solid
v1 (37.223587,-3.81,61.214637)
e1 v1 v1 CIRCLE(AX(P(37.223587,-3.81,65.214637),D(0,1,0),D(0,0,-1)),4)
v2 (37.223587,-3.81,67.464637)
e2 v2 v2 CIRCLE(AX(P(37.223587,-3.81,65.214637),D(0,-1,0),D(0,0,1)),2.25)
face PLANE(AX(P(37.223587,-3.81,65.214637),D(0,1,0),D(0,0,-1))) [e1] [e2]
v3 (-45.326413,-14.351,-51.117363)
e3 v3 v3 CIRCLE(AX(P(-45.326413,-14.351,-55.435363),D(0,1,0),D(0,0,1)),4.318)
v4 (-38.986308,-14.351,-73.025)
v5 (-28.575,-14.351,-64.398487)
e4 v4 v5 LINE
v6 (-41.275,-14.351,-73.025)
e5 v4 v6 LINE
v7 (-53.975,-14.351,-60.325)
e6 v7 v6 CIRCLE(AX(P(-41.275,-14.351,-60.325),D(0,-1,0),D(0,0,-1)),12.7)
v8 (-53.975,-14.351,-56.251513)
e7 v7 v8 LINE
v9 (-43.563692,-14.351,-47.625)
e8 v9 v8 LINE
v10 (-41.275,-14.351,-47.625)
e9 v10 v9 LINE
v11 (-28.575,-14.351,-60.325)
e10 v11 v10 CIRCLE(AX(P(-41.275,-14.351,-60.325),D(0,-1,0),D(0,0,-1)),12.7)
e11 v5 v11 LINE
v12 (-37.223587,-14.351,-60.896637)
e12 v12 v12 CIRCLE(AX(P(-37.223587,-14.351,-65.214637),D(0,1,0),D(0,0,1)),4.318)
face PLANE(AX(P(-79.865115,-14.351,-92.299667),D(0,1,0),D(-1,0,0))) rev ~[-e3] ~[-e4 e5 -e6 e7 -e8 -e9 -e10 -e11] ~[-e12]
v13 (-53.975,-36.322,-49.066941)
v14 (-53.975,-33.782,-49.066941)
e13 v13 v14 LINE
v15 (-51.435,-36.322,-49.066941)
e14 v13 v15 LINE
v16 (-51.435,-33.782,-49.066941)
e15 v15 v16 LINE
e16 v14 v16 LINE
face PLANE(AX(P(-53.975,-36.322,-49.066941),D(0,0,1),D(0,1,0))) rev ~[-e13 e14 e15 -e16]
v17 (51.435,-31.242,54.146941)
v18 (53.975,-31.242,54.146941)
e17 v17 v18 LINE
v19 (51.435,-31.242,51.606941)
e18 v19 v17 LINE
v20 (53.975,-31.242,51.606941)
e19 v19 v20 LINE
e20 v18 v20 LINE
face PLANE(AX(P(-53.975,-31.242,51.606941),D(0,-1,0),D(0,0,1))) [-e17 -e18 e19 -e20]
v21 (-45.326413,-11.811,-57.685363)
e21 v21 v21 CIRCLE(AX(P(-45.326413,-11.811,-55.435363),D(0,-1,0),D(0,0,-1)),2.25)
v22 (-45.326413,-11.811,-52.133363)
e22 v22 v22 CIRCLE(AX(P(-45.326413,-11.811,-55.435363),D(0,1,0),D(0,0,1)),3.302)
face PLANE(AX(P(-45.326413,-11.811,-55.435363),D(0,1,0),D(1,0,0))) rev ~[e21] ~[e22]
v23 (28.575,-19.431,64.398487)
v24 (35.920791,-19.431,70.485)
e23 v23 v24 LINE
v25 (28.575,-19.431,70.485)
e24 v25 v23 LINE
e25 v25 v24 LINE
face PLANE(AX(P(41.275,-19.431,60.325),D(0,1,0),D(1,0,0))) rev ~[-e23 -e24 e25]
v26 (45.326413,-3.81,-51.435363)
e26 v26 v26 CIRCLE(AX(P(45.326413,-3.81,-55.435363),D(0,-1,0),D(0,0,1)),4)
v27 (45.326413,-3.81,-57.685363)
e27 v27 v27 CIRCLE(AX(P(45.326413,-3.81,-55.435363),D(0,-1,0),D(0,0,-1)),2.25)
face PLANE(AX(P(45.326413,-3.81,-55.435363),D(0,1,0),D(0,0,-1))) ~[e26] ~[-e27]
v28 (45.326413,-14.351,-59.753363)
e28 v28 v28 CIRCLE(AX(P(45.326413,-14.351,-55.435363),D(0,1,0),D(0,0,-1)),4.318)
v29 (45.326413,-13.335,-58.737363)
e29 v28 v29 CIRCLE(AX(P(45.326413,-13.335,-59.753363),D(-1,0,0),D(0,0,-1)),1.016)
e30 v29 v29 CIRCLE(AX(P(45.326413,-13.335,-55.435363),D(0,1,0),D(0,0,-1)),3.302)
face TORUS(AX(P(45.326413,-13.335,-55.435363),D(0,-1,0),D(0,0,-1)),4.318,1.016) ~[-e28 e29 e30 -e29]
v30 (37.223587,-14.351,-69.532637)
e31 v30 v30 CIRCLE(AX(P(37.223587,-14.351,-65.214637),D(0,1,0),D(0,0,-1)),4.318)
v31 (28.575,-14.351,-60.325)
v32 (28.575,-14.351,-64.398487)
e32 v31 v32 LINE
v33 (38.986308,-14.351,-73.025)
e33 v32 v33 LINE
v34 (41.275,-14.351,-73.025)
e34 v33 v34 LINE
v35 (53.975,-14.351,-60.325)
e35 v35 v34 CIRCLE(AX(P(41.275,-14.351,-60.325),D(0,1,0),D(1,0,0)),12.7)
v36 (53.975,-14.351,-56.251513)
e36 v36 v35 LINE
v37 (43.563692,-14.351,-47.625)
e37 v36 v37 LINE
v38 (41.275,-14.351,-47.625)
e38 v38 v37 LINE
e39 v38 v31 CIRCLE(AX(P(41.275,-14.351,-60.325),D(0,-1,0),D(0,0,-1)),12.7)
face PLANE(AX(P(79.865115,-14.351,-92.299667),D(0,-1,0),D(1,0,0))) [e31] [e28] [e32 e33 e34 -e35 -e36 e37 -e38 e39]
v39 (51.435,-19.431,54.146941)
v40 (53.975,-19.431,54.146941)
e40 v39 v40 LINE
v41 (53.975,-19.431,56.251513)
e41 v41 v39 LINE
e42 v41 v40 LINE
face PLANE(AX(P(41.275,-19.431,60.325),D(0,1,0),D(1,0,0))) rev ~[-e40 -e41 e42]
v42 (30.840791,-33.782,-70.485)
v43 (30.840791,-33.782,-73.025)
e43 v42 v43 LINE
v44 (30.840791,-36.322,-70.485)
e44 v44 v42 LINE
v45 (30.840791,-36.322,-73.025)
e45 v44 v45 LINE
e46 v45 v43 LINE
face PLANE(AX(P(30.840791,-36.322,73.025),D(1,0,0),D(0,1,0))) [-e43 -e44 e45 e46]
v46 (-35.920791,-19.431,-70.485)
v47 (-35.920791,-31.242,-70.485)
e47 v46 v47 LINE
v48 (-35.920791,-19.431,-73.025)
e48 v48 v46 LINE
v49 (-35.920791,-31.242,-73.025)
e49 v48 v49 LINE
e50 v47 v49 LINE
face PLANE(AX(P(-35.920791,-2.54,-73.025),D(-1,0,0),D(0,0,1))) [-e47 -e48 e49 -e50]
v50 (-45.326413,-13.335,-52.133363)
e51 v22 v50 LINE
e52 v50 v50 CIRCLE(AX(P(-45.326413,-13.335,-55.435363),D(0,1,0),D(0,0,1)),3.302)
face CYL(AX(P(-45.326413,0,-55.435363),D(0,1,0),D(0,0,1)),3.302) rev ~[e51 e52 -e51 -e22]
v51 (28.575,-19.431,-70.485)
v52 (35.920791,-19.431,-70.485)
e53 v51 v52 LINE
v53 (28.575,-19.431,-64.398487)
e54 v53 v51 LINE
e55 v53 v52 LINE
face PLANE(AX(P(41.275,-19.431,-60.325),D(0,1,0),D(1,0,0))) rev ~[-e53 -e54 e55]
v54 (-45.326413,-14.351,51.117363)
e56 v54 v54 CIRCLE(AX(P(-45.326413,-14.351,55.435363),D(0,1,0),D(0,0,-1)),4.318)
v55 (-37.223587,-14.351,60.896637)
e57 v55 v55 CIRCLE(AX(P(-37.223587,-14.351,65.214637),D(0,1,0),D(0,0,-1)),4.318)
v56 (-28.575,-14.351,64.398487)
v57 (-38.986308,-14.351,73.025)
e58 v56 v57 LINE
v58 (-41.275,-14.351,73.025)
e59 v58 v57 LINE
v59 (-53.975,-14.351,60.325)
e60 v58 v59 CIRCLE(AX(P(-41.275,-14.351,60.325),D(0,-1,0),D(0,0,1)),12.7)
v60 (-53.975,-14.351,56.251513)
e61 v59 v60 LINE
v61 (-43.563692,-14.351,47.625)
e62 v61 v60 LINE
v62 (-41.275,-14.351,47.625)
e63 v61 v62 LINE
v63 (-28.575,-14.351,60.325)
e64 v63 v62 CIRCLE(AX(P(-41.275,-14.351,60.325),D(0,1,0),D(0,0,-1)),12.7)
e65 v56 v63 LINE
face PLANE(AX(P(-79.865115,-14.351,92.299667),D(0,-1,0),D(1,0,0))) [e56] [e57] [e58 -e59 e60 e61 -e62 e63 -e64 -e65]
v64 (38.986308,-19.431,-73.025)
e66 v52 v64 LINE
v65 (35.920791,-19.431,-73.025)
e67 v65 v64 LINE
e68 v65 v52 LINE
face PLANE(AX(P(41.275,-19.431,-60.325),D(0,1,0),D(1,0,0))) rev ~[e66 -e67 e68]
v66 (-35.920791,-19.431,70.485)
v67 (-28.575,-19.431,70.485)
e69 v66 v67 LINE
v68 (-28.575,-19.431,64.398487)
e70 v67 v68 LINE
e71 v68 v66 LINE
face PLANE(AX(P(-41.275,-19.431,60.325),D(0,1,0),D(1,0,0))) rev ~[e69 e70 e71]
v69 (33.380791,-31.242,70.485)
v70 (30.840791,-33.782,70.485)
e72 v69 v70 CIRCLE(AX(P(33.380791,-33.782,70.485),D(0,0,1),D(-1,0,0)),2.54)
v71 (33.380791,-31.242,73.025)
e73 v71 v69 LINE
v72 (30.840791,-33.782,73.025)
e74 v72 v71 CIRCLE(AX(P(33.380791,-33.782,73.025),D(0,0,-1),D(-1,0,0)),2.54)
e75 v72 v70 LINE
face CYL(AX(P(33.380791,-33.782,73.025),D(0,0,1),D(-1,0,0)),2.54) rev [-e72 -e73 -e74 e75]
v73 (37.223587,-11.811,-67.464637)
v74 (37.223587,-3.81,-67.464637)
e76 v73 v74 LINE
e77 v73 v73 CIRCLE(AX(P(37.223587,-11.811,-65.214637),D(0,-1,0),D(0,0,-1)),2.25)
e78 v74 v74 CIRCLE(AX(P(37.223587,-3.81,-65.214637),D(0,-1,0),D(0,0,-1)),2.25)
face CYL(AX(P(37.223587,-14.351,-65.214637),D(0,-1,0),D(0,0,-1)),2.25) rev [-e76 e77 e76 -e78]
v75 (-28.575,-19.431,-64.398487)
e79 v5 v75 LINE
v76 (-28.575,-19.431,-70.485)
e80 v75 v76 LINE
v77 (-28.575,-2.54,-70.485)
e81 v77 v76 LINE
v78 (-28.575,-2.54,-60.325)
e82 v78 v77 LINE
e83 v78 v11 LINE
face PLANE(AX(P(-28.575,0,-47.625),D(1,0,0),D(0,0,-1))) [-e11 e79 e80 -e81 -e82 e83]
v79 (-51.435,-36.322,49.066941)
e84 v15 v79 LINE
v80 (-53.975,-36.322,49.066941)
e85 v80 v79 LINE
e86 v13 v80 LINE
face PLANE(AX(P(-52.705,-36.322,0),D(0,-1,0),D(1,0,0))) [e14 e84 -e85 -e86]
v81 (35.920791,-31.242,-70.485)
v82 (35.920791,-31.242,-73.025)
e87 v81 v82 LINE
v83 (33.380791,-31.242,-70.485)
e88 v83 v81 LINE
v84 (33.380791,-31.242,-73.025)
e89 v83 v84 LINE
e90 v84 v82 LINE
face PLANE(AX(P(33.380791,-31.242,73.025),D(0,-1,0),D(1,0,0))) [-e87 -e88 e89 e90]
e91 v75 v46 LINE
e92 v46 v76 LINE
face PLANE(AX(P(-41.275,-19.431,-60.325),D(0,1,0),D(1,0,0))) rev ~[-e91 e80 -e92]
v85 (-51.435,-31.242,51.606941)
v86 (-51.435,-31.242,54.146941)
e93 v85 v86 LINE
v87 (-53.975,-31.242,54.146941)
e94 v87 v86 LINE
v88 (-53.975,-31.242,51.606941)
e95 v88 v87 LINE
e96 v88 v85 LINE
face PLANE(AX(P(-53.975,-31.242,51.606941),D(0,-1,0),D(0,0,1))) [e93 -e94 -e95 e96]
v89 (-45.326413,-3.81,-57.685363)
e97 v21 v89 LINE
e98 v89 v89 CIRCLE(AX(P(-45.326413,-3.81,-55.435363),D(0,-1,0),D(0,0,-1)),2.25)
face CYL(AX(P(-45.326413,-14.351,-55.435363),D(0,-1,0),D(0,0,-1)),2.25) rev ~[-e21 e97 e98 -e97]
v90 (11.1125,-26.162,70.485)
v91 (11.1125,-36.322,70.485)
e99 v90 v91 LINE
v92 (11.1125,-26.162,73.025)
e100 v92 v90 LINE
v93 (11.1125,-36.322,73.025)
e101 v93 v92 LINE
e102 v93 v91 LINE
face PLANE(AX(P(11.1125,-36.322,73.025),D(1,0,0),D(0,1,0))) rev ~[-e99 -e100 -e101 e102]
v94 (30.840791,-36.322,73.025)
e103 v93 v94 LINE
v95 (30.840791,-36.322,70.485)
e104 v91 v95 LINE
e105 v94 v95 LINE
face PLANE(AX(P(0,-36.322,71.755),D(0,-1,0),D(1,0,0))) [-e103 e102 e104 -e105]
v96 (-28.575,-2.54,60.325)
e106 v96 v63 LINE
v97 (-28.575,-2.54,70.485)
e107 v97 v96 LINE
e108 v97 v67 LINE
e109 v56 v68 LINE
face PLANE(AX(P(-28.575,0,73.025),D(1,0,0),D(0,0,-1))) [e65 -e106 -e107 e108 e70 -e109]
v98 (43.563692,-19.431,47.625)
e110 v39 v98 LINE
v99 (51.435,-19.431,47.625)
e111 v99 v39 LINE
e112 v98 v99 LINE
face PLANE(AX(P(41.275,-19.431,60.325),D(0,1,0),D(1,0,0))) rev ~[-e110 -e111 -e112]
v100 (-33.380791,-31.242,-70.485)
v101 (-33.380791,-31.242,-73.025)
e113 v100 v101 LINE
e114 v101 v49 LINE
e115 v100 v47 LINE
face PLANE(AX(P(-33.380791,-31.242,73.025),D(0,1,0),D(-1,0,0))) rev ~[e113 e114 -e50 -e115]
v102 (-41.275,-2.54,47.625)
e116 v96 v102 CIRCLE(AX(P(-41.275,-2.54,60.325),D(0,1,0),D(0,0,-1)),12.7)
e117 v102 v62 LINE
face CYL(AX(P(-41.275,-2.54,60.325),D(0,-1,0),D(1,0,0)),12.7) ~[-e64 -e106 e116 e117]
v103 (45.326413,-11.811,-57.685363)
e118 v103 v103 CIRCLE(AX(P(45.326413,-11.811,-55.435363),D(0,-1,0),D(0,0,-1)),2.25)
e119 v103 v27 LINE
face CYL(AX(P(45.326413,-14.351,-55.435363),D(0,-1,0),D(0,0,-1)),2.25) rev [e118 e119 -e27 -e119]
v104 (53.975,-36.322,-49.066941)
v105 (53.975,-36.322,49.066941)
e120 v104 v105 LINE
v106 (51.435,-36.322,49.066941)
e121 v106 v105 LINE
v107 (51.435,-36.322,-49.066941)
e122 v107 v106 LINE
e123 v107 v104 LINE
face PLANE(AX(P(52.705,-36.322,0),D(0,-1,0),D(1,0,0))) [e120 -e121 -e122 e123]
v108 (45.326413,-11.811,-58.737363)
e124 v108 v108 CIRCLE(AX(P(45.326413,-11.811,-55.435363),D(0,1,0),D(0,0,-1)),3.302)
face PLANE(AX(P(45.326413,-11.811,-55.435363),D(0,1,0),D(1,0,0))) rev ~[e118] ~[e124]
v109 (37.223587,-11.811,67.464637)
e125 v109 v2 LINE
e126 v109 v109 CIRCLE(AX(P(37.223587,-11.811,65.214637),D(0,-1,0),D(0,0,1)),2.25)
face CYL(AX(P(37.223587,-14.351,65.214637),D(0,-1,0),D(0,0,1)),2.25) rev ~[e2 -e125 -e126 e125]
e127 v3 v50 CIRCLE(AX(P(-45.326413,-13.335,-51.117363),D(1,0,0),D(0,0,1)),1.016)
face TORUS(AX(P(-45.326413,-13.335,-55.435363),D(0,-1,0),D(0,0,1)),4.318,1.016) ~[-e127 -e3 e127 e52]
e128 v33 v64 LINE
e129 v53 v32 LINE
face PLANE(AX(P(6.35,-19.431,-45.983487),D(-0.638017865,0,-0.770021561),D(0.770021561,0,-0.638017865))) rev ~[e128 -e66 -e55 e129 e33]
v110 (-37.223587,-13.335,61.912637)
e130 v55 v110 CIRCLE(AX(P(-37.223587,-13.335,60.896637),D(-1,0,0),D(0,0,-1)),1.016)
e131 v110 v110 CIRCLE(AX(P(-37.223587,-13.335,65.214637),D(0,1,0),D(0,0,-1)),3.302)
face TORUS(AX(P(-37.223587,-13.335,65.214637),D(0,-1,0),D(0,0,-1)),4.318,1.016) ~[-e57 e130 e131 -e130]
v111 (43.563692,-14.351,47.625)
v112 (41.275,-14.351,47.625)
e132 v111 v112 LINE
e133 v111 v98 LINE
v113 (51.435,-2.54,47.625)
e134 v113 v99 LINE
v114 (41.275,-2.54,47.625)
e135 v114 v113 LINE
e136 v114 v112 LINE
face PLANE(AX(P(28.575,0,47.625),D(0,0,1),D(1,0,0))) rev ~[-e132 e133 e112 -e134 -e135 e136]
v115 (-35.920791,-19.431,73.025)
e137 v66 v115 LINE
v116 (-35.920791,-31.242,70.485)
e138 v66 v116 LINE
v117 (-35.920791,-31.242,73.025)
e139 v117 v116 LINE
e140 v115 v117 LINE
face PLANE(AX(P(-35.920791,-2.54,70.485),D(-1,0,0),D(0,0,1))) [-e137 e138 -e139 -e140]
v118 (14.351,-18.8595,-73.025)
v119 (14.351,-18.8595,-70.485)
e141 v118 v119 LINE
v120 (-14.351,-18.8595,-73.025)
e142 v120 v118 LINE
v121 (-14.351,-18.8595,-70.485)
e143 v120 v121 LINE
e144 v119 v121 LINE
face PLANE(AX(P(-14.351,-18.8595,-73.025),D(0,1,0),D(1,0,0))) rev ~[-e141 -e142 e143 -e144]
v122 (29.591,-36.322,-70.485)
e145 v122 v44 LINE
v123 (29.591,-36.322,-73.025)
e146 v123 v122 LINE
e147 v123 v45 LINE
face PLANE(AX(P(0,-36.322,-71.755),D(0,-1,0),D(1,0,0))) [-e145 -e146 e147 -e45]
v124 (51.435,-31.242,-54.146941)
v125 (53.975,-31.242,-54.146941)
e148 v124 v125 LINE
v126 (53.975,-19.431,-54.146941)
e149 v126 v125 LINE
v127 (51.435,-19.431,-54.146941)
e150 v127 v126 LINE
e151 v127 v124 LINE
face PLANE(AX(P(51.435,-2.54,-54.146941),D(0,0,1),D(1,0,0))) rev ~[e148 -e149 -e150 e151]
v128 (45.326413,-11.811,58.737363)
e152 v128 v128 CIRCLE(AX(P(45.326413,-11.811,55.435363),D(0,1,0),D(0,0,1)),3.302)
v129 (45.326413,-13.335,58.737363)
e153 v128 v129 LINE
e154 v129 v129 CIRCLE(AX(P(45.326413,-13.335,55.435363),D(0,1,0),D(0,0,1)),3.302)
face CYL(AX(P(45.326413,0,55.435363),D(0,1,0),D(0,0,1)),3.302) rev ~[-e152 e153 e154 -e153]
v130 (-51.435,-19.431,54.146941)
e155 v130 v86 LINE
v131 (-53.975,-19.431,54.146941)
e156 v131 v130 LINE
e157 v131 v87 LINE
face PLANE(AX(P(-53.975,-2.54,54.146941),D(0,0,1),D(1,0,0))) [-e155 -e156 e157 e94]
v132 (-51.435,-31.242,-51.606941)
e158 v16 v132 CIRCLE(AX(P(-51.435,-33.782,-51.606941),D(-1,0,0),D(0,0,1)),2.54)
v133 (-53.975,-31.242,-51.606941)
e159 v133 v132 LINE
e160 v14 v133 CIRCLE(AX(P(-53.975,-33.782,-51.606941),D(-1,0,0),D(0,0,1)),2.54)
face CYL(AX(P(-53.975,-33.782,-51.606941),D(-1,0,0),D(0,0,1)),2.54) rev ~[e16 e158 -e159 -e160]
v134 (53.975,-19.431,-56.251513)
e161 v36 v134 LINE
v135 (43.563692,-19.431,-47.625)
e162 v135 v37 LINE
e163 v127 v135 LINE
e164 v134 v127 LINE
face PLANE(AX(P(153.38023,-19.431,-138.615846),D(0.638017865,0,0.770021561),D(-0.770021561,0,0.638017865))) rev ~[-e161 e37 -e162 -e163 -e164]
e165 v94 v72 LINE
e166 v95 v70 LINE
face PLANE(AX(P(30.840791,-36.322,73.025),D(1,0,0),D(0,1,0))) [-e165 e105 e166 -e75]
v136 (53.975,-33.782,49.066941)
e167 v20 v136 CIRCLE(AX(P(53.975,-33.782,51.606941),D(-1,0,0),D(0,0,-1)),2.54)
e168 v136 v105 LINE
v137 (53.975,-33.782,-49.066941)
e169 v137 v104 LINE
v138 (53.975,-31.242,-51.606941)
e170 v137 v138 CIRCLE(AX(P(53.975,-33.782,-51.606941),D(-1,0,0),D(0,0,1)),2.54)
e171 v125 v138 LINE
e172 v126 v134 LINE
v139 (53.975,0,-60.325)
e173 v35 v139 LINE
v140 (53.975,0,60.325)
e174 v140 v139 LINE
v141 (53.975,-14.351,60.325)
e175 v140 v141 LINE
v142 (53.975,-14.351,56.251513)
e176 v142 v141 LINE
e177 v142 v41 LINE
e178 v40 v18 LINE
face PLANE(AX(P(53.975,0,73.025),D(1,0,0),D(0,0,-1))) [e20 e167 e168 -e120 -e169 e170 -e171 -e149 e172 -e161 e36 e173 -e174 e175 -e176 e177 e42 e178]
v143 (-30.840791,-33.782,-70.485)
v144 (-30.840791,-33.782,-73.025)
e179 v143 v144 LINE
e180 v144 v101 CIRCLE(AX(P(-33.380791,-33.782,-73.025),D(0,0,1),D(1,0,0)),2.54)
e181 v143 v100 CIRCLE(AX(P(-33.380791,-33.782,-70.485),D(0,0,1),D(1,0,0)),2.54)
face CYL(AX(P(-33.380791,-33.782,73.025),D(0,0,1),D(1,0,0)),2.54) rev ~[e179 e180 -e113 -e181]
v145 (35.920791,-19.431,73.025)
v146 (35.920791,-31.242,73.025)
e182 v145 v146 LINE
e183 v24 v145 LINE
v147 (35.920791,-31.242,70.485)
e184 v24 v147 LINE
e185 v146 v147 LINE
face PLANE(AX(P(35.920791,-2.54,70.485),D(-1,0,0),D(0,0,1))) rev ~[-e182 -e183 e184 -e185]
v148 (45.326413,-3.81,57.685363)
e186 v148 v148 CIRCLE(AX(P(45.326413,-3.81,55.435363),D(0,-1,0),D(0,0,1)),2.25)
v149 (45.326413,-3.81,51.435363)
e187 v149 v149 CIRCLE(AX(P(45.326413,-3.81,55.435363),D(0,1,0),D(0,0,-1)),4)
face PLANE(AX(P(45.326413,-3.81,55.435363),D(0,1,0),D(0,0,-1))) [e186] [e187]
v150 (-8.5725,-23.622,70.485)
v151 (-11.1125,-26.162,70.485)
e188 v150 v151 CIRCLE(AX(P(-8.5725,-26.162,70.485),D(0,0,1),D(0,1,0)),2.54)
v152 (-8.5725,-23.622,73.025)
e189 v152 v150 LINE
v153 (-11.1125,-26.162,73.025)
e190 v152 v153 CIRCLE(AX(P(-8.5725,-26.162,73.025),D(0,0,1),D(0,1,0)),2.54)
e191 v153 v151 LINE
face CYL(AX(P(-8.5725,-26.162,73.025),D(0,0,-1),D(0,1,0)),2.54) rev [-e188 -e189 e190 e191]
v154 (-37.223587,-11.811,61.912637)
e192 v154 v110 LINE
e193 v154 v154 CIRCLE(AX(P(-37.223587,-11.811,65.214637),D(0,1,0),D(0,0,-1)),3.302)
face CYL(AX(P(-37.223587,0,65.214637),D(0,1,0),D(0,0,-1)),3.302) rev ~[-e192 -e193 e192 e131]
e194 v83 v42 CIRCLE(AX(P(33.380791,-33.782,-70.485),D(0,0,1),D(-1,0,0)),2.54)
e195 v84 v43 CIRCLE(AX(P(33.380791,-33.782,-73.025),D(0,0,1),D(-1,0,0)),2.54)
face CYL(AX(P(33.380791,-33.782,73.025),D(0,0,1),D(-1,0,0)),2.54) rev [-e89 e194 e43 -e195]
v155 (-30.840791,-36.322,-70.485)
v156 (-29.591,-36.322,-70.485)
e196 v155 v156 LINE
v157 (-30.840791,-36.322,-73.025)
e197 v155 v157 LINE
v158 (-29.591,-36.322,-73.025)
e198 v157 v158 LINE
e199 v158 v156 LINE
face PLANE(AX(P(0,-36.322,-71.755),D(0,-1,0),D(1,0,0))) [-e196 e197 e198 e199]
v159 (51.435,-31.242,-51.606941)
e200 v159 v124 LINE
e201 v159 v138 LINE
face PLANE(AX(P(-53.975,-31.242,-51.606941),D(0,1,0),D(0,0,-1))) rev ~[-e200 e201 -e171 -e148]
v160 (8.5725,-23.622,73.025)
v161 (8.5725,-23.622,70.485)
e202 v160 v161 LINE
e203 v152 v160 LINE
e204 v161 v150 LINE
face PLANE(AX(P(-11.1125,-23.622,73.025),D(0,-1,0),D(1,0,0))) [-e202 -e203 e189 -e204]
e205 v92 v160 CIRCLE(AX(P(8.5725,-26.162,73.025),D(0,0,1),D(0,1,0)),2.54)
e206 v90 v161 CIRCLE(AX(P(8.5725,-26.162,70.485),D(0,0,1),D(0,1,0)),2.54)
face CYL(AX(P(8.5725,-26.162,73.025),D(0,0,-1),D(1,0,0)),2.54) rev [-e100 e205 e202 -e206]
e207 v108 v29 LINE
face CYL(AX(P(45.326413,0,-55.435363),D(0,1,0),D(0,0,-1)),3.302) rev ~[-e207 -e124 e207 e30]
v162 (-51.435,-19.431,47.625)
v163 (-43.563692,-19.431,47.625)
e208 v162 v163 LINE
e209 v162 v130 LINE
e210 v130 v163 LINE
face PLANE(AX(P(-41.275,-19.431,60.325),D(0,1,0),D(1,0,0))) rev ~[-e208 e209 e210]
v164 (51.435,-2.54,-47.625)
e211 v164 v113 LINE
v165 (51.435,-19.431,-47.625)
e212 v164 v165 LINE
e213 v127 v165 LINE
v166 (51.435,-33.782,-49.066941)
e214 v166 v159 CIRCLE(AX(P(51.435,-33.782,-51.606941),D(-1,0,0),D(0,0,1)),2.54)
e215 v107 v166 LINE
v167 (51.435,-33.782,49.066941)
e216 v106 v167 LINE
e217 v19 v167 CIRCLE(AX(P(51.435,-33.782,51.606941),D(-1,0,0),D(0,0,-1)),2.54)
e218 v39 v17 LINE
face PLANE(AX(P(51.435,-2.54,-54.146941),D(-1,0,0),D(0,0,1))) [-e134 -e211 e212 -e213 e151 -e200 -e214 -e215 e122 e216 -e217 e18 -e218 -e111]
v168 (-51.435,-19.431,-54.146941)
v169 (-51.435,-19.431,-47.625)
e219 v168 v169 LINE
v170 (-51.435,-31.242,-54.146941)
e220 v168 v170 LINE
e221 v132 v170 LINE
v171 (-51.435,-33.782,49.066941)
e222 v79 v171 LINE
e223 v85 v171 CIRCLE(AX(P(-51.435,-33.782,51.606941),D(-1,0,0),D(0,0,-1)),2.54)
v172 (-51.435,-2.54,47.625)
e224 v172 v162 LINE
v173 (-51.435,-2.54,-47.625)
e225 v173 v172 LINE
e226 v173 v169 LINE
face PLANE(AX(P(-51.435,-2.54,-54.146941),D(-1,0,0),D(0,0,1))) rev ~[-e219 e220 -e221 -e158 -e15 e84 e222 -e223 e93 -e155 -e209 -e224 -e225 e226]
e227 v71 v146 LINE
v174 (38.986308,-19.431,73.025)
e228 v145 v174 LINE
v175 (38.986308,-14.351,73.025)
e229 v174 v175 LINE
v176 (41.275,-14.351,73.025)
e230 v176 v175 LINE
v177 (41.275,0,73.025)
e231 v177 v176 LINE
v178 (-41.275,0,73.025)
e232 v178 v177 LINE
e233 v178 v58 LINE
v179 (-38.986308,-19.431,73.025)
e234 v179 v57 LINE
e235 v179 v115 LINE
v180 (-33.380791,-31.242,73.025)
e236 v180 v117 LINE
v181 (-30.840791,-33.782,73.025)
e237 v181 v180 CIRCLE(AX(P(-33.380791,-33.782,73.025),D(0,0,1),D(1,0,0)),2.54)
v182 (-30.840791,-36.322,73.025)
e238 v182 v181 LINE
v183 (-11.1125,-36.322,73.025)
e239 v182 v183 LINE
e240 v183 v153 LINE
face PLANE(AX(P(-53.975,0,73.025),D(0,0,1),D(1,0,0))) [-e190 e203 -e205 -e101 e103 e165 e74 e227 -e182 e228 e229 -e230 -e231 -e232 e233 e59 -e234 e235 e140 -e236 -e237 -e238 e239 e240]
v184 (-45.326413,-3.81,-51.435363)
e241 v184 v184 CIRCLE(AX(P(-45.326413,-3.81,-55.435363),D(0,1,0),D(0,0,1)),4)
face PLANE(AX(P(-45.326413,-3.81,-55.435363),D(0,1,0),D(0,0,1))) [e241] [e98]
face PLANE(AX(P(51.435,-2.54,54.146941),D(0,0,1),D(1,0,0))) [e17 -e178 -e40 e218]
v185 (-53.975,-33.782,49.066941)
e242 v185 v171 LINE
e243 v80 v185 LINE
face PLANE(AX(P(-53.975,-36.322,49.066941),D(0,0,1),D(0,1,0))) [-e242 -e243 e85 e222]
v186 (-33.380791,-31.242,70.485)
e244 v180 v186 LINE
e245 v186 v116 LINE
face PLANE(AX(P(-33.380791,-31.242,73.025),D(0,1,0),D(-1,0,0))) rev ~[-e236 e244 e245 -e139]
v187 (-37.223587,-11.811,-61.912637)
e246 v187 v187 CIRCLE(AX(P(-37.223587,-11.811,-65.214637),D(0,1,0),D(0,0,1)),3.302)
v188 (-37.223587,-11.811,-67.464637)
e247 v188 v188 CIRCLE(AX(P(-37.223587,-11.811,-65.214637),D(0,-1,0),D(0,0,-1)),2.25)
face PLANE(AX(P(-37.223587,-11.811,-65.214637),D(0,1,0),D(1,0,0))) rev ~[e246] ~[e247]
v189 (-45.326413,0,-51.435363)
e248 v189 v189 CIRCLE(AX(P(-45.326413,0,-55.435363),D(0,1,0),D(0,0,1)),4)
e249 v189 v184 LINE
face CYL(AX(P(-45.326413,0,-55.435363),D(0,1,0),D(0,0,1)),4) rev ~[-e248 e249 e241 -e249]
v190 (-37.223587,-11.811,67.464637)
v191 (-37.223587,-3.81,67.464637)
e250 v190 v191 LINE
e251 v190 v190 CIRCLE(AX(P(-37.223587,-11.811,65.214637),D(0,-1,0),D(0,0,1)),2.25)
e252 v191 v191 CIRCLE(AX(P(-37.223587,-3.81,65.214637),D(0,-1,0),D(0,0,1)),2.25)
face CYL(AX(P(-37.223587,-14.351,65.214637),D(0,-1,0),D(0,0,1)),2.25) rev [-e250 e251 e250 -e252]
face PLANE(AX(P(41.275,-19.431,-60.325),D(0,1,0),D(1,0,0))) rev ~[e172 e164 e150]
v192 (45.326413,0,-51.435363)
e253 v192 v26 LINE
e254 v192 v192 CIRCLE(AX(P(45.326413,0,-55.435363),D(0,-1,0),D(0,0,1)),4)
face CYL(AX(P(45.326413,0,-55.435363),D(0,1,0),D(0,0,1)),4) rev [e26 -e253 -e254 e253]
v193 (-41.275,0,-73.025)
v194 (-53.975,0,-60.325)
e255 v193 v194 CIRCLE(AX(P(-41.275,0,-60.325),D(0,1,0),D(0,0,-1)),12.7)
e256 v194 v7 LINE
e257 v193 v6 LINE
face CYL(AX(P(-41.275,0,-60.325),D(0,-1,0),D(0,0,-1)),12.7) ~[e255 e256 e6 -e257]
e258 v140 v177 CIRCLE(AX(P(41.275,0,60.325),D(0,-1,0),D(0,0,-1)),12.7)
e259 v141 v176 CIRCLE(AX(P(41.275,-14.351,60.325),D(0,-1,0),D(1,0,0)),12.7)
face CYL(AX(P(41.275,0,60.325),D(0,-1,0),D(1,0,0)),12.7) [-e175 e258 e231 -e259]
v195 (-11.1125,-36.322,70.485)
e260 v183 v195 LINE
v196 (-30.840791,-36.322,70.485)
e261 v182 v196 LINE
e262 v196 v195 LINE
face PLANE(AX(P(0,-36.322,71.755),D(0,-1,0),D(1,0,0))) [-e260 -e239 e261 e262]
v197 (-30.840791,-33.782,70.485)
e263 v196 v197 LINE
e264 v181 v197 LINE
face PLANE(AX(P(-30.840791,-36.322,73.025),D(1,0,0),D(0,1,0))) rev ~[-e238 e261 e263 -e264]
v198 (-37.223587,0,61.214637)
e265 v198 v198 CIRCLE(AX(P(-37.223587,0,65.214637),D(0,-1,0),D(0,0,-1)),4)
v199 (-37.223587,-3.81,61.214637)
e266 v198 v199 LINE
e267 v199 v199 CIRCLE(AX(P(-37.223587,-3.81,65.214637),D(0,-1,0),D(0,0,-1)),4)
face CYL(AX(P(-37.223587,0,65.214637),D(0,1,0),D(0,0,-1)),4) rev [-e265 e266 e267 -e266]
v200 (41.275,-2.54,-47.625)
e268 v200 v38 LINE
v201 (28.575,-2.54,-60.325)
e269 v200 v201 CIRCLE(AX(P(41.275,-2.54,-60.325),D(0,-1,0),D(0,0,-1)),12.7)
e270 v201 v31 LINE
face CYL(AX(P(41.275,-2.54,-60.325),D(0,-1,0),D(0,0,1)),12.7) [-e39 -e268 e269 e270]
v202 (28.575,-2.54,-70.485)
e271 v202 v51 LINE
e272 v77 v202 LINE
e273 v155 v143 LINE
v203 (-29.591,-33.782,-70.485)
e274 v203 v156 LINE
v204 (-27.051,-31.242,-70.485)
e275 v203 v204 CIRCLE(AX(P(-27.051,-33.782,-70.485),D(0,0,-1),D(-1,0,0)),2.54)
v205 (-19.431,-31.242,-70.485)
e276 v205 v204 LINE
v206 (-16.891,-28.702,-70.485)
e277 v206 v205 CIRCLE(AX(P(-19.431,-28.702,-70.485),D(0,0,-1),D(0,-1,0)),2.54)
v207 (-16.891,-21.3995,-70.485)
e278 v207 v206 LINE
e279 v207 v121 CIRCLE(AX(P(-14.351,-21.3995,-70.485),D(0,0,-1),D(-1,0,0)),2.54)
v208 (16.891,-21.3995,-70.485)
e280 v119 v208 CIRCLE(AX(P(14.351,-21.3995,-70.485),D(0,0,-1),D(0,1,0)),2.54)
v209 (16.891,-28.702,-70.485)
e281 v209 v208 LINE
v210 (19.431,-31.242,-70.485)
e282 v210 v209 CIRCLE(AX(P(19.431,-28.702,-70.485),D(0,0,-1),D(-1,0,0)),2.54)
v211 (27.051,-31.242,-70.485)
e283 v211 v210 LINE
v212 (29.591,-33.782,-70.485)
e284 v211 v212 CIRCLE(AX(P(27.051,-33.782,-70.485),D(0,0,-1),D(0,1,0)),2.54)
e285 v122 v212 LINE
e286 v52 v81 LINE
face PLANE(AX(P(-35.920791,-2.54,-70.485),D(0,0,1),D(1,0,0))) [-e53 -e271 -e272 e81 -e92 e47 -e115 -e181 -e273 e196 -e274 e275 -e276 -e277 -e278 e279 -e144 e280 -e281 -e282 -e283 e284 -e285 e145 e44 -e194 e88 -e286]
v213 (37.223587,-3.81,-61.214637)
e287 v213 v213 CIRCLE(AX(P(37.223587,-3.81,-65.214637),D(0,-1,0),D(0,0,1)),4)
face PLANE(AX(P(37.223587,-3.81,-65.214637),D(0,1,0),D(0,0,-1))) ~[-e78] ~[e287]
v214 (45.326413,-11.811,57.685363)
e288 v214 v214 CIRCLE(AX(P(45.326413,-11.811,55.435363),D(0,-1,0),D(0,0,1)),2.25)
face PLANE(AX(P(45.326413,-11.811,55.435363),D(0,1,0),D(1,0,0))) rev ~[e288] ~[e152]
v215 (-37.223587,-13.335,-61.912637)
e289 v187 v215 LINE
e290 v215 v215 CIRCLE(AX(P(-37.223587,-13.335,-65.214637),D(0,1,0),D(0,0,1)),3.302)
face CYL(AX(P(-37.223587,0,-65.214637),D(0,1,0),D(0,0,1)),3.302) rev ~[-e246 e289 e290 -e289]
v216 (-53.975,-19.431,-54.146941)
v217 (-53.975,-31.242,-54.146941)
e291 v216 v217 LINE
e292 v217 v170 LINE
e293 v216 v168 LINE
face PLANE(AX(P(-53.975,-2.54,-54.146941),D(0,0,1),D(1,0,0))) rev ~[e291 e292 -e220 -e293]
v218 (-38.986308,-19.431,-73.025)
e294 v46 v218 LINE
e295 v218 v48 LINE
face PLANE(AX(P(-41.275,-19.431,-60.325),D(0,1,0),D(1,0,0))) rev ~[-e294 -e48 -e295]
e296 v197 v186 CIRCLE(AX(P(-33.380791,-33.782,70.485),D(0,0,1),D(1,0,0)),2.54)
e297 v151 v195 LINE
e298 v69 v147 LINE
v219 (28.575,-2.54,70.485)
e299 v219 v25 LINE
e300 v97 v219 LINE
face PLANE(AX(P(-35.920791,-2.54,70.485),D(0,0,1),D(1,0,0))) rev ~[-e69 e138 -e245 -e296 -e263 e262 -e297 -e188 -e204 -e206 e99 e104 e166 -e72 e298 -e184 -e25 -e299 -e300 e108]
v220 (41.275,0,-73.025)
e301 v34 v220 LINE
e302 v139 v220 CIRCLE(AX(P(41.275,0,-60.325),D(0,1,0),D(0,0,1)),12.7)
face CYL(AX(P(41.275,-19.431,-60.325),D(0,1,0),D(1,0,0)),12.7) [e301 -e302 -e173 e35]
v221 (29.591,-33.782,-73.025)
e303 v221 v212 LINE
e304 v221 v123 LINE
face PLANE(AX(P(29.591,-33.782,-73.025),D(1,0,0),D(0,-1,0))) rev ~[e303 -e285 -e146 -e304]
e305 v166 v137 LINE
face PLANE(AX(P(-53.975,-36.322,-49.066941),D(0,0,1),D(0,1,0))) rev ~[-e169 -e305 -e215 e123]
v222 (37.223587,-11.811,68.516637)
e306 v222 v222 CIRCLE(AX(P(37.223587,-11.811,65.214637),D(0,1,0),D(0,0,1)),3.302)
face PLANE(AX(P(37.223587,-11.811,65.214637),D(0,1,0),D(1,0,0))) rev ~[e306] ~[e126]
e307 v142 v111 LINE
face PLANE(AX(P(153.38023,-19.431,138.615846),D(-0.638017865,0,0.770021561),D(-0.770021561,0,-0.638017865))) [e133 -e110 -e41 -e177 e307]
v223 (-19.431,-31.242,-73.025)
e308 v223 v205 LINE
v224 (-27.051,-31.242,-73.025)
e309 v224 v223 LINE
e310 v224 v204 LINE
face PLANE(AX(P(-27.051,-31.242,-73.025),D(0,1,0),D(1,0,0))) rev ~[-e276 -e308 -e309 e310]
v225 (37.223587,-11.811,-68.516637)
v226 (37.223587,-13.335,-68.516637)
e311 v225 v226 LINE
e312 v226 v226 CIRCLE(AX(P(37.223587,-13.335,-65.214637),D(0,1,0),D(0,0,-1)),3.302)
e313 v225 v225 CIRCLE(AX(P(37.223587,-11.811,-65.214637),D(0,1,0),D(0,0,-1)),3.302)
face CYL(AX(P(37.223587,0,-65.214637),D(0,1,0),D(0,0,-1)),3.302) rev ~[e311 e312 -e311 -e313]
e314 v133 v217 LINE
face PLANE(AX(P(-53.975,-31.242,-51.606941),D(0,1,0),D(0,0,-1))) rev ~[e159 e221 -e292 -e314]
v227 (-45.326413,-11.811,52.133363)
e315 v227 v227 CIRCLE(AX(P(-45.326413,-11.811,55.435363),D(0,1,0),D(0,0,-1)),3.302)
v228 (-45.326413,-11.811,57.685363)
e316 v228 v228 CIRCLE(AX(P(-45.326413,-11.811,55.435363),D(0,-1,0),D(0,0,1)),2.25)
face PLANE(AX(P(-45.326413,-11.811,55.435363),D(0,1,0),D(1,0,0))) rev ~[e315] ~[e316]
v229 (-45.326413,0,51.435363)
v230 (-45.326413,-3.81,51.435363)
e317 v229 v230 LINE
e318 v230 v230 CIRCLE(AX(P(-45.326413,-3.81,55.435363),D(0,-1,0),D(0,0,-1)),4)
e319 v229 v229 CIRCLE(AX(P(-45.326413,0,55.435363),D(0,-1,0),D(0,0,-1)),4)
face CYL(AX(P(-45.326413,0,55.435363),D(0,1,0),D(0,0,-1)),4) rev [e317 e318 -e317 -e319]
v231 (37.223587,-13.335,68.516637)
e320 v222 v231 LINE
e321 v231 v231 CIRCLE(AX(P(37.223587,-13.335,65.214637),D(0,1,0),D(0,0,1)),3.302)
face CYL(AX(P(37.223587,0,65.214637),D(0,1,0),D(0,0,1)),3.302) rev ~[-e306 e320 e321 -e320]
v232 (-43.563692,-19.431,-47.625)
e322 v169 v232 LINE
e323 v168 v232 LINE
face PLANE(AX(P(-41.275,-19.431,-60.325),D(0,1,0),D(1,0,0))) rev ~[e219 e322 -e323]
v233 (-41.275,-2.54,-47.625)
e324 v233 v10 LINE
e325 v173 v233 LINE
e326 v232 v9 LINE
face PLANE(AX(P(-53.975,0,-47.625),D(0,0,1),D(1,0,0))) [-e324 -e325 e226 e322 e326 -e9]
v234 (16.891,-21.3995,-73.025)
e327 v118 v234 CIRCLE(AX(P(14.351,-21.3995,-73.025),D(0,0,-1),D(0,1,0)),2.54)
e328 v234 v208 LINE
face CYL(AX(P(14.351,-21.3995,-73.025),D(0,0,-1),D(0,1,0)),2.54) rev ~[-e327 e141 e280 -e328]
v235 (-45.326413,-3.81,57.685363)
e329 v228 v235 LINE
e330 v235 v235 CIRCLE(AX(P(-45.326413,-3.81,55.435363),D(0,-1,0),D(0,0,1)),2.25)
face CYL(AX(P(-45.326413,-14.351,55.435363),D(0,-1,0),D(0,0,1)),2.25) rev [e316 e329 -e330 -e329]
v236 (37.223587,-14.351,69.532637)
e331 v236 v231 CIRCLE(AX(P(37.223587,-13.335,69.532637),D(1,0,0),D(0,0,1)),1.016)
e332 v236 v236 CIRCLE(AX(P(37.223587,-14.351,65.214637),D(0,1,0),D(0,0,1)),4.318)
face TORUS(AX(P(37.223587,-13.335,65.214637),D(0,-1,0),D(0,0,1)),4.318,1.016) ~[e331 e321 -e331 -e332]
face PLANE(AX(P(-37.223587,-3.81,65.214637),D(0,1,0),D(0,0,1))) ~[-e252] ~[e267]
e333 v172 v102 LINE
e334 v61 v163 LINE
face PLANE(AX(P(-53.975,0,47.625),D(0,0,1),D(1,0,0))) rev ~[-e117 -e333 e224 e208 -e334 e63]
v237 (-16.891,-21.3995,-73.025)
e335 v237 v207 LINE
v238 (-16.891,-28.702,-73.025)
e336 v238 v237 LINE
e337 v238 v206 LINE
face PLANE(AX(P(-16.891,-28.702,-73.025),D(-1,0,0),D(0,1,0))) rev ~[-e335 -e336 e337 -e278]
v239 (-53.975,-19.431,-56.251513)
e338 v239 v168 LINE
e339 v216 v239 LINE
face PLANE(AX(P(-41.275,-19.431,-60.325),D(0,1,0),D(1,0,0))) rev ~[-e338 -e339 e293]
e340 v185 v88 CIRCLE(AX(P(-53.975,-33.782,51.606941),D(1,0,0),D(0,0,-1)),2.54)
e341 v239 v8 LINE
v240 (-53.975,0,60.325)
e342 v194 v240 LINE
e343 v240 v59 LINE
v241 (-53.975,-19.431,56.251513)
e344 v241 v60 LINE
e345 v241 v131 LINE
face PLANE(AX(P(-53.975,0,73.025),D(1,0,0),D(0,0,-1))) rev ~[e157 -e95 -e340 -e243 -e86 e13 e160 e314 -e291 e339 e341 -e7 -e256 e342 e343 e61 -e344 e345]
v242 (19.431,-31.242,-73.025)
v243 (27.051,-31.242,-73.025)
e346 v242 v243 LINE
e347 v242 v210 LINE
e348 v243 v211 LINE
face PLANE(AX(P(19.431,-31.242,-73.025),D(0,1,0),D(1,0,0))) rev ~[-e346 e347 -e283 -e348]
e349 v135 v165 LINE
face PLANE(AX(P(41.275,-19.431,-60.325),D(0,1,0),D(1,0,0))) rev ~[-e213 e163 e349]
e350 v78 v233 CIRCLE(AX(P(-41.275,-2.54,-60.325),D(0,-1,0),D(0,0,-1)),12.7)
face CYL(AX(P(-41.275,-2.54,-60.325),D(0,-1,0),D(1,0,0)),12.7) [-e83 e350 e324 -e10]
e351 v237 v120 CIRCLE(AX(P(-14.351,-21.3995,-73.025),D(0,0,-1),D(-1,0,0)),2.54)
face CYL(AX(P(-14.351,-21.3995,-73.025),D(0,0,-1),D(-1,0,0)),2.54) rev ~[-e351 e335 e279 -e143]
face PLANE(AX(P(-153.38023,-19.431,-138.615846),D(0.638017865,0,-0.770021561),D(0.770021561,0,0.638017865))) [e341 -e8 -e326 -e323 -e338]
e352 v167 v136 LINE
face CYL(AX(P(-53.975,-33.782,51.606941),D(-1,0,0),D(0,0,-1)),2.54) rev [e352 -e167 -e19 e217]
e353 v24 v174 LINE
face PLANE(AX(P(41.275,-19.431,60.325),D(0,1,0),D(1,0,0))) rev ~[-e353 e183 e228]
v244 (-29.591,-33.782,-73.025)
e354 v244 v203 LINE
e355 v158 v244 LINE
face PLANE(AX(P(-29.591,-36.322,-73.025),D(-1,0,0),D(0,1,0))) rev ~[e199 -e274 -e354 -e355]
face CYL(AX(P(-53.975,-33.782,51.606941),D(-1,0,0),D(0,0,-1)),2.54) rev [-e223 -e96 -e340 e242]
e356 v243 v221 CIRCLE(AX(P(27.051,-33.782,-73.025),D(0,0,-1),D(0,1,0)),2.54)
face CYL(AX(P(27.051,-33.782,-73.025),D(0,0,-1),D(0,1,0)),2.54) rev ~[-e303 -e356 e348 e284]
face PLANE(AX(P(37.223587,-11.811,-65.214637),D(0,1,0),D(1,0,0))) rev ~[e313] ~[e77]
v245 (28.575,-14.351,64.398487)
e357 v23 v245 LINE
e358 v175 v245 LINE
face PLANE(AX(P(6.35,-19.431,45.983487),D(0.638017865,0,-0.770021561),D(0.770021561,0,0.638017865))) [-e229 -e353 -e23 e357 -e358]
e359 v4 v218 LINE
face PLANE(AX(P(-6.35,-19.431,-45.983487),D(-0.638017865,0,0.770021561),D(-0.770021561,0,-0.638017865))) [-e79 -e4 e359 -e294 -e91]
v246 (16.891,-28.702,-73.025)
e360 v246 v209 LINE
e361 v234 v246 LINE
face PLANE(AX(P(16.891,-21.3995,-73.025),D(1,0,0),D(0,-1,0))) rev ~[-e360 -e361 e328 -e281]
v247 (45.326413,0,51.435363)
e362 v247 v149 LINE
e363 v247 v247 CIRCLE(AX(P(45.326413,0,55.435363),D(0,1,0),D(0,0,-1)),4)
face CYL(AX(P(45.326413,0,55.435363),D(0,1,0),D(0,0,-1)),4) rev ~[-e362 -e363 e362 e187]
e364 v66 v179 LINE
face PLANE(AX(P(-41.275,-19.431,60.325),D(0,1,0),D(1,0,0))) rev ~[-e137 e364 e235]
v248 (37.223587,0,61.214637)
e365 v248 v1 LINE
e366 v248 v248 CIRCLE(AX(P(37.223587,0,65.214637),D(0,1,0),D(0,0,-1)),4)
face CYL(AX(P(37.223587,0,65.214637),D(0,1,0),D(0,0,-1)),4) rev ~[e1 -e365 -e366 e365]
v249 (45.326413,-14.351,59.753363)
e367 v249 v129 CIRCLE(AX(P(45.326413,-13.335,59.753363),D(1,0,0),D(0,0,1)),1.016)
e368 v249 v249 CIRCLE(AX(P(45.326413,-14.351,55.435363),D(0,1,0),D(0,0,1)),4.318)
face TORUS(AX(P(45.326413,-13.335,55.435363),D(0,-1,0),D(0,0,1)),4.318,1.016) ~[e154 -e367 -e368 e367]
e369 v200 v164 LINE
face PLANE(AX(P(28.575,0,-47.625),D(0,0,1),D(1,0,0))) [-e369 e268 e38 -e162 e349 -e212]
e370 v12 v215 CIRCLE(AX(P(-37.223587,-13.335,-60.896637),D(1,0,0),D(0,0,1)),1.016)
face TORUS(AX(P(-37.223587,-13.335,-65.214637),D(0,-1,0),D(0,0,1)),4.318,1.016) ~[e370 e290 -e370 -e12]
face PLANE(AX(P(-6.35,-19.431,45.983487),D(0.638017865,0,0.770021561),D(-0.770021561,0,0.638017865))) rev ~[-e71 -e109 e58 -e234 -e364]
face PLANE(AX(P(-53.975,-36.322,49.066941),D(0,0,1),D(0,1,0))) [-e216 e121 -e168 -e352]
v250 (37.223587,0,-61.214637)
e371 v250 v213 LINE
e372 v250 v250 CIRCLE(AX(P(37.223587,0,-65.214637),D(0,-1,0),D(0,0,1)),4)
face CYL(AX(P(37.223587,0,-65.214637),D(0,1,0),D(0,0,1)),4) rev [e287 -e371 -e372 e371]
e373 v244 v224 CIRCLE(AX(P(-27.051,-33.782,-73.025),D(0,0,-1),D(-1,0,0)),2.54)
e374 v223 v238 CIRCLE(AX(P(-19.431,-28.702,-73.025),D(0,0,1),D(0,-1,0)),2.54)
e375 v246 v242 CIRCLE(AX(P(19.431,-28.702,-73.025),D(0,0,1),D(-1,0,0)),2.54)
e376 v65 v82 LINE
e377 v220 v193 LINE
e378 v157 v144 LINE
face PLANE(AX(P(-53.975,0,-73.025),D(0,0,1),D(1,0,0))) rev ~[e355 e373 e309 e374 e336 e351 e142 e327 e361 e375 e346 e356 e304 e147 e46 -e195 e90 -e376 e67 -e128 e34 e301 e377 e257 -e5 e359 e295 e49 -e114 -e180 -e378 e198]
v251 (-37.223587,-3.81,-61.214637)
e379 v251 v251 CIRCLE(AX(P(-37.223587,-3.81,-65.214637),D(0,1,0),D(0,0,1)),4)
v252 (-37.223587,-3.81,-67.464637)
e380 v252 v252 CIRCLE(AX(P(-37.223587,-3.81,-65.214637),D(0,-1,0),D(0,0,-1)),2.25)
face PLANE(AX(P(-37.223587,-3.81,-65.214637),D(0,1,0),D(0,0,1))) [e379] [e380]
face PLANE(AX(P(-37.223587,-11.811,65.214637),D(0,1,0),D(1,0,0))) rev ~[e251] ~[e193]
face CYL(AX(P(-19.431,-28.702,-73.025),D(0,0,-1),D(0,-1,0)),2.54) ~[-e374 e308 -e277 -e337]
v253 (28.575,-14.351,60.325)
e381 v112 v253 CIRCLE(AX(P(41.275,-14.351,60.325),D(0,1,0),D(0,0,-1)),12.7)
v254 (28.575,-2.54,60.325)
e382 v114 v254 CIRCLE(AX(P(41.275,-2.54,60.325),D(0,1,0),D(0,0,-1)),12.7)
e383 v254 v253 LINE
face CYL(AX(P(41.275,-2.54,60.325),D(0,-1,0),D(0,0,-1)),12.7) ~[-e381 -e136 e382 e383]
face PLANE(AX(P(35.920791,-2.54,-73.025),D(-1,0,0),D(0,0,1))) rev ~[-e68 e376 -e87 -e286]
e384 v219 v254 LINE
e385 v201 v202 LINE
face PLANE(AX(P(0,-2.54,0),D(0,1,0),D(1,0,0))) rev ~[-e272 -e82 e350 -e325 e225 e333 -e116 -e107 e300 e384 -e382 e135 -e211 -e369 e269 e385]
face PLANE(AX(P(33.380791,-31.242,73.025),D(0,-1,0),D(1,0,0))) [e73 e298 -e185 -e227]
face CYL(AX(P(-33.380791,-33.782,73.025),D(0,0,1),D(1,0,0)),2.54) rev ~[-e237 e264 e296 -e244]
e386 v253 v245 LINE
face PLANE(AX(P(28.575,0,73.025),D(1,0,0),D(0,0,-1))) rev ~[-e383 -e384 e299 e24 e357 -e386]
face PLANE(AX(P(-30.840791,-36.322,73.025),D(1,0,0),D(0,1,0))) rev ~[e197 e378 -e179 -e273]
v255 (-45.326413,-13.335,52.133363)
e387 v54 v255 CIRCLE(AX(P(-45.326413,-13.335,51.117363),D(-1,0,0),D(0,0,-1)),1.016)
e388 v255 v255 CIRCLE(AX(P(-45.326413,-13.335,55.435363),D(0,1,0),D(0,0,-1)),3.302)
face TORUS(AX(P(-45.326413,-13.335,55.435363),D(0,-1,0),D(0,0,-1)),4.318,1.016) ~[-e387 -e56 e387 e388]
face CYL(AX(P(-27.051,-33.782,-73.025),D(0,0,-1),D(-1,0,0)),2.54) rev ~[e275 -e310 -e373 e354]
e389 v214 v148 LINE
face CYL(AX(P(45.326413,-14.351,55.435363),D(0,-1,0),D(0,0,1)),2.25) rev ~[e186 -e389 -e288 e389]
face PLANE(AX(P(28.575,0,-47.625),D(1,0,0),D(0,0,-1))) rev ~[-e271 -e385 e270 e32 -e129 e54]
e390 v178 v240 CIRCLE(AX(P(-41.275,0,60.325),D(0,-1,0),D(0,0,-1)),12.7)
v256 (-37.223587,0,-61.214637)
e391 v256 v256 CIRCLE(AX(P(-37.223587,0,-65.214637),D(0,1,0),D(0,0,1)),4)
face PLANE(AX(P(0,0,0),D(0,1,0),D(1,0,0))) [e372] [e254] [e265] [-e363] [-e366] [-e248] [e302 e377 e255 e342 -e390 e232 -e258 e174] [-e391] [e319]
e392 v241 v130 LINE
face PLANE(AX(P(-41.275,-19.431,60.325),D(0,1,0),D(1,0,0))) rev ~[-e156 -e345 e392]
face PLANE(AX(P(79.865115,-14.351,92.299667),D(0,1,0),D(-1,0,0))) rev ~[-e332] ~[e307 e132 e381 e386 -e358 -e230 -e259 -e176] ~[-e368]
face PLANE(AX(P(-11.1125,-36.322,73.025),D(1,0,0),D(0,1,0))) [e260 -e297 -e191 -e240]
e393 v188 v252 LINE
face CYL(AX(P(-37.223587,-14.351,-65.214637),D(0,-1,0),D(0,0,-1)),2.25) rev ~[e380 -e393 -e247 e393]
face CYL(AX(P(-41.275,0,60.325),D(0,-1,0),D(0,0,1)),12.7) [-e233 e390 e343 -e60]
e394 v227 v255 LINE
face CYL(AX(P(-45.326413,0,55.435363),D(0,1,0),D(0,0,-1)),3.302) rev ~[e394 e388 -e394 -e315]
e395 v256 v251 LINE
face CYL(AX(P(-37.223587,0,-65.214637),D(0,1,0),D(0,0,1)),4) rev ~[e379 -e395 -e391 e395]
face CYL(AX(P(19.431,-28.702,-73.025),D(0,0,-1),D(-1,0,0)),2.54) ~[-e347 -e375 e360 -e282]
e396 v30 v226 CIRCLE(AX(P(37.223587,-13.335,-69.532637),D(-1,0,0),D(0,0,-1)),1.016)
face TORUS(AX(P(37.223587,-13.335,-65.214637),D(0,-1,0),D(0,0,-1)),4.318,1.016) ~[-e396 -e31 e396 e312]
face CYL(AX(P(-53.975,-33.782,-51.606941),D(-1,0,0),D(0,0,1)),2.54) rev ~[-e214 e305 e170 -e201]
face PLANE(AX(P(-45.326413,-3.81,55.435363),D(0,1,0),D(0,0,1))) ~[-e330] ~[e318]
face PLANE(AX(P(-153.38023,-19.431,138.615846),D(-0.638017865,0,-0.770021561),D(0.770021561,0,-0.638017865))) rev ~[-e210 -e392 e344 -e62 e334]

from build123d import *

# Parameters (mm, degrees)
SKETCH1_W               = 107.95
SKETCH1_H               = 146.05
BOSS_EXTRUDE1_DEPTH     = 2.54
SKETCH13_W              = 25.4
SKETCH13_H              = 25.4
BOSS_EXTRUDE4_DEPTH     = 19.431
SKETCH2_R               = 3.302
CUT_EXTRUDE1_DEPTH      = 93.862882849
FILLET1_R               = 12.7
CUT_EXTRUDE13_DEPTH     = 5.08
SKETCH15_R              = 5.08
BOSS_EXTRUDE5_DEPTH     = 11.811
SKETCH23_R              = 2.25
CUT_EXTRUDE14_DEPTH     = 92.934228941
SKETCH24_R              = 4
CUT_EXTRUDE15_DEPTH     = 3.81
MIRROR2_COPY_1_SKETCH_R = 2.25
MIRROR2_COPY_1_DEPTH    = 92.934228941
MIRROR2_COPY_2_SKETCH_R = 4
MIRROR2_COPY_2_DEPTH    = 3.81
FILLET3_R               = 12.7
FILLET4_R               = 1.016
SKETCH27_W              = 71.841582164
SKETCH27_H              = 2.54
SKETCH27_W_2            = 2.54
SKETCH27_H_2            = 108.293882364
BOSS_EXTRUDE6_DEPTH     = 33.782
CUT_EXTRUDE16_DEPTH     = 41.656
CUT_EXTRUDE17_DEPTH     = 136.296492227
CUT_EXTRUDE18_DEPTH     = 160.8849299
CUT_EXTRUDE19_REACH     = 161.885
SKETCH31_W              = 22.225
SKETCH31_H              = 12.7
FILLET5_R               = 2.54


with BuildPart() as part:
    # Sketch1 → Boss-Extrude1 (new body)
    with BuildSketch(Plane(origin=(0, 0, 0), x_dir=(1, 0, 0), z_dir=(0, 1, 0))):
        Rectangle(SKETCH1_W, SKETCH1_H)
    extrude(amount=-BOSS_EXTRUDE1_DEPTH)

    # Sketch13 → Boss-Extrude4 (add)
    with BuildSketch(Plane(origin=(0, 0, 0), x_dir=(1, 0, 0), z_dir=(0, 1, 0))):
        with Locations((41.275, -60.325)):
            Rectangle(SKETCH13_W, SKETCH13_H)
        with Locations((-41.275, -60.325)):
            Rectangle(SKETCH13_W, SKETCH13_H)
        with Locations((-41.275, 60.325)):
            Rectangle(SKETCH13_W, SKETCH13_H)
        with Locations((41.275, 60.325)):
            Rectangle(SKETCH13_W, SKETCH13_H)
    extrude(amount=-BOSS_EXTRUDE4_DEPTH)

    # Sketch2 → Cut-Extrude1 (cut, through all)
    with BuildSketch(Plane(origin=(0, 0, 0), x_dir=(1, 0, 0), z_dir=(0, 1, 0))):
        with Locations(Location((45.326413441, 55.435363088, 0), (0, 0, 90))):
            Circle(SKETCH2_R)
        with Locations(Location((37.223586559, 65.214636912, 0), (0, 0, 90))):
            Circle(SKETCH2_R)
        with Locations(Location((45.326413441, -55.435363088, 0), (0, 0, 270))):
            Circle(SKETCH2_R)
        with Locations(Location((37.223586559, -65.214636912, 0), (0, 0, 270))):
            Circle(SKETCH2_R)
        with Locations(Location((-37.223586559, 65.214636912, 0), (0, 0, 270))):
            Circle(SKETCH2_R)
        with Locations(Location((-45.326413441, 55.435363088, 0), (0, 0, 270))):
            Circle(SKETCH2_R)
        with Locations(Location((-45.326413441, -55.435363088, 0), (0, 0, 90))):
            Circle(SKETCH2_R)
        with Locations(Location((-37.223586559, -65.214636912, 0), (0, 0, 90))):
            Circle(SKETCH2_R)
    extrude(amount=-CUT_EXTRUDE1_DEPTH, mode=Mode.SUBTRACT)

    # Fillet1
    fillet1_edges = [part.edges().sort_by_distance(p)[0] for p in [
        (53.975, -9.7155, 73.025),
        (-53.975, -9.7155, 73.025),
        (-53.975, -9.7155, -73.025),
        (53.975, -9.7155, -73.025),
    ]]
    fillet(fillet1_edges, radius=FILLET1_R)

    # Sketch14 → Cut-Extrude13 (cut)
    with BuildSketch(Plane.XZ.offset(19.431)):
        Polygon((20.692003582, -28.674172721), (6.35, -45.983487389), (139.038226295, -155.925160605), (153.380229877, -138.615845937), align=None)
        Polygon((-20.692003582, -28.674172721), (-6.35, -45.983487389), (-139.038226295, -155.925160605), (-153.380229877, -138.615845937), align=None)
        Polygon((-153.380229877, 138.615845937), (-20.692003582, 28.674172721), (-6.35, 45.983487389), (-139.038226295, 155.925160605), align=None)
        Polygon((20.692003582, 28.674172721), (6.35, 45.983487389), (139.038226295, 155.925160605), (153.380229877, 138.615845937), align=None)
    extrude(amount=-CUT_EXTRUDE13_DEPTH, mode=Mode.SUBTRACT)

    # Sketch15 → Boss-Extrude5 (add)
    with BuildSketch(Plane(origin=(0, 0, 0), x_dir=(1, 0, 0), z_dir=(0, 1, 0))):
        with Locations((-45.326413441, 55.435363088)):
            Circle(SKETCH15_R)
        with Locations((45.326413441, 55.435363088)):
            Circle(SKETCH15_R)
        with Locations((37.223586559, 65.214636912)):
            Circle(SKETCH15_R)
        with Locations((45.326413441, -55.435363088)):
            Circle(SKETCH15_R)
        with Locations((37.223586559, -65.214636912)):
            Circle(SKETCH15_R)
        with Locations((-37.223586559, -65.214636912)):
            Circle(SKETCH15_R)
        with Locations((-37.223586559, 65.214636912)):
            Circle(SKETCH15_R)
        with Locations((-45.326413441, -55.435363088)):
            Circle(SKETCH15_R)
    extrude(amount=-BOSS_EXTRUDE5_DEPTH)

    # Sketch23 → Cut-Extrude14 (cut, through all)
    with BuildSketch(Plane.XZ.offset(14.351)):
        with Locations(Location((-45.326413441, -55.435363088, 0), (0, 0, 270))):
            Circle(SKETCH23_R)
        with Locations(Location((-37.223586559, -65.214636912, 0), (0, 0, 270))):
            Circle(SKETCH23_R)
    cut_extrude14 = extrude(amount=-CUT_EXTRUDE14_DEPTH, mode=Mode.SUBTRACT)

    # Sketch24 → Cut-Extrude15 (cut)
    with BuildSketch(Plane(origin=(0, 0, 0), x_dir=(1, 0, 0), z_dir=(0, 1, 0))):
        with Locations(Location((-45.326413441, 55.435363088, 0), (0, 0, 270))):
            Circle(SKETCH24_R)
        with Locations(Location((-37.223586559, 65.214636912, 0), (0, 0, 270))):
            Circle(SKETCH24_R)
    cut_extrude15 = extrude(amount=-CUT_EXTRUDE15_DEPTH, mode=Mode.SUBTRACT)

    # Mirror1: Cut-Extrude14, Cut-Extrude15 across plane
    add(cut_extrude14.mirror(Plane.XY), mode=Mode.SUBTRACT)
    add(cut_extrude15.mirror(Plane.XY), mode=Mode.SUBTRACT)

    # Mirror2: Cut-Extrude14, Cut-Extrude15 across plane
    add(cut_extrude14.mirror(Plane(origin=(0, 0, 0), x_dir=(0, 0, 1), z_dir=(1, 0, 0))), mode=Mode.SUBTRACT)
    add(cut_extrude15.mirror(Plane(origin=(0, 0, 0), x_dir=(0, 0, 1), z_dir=(1, 0, 0))), mode=Mode.SUBTRACT)

    # Mirror2 copy 1 sketch → Mirror2 copy 1 (cut, through all)
    with BuildSketch(Plane(origin=(0, -14.351, 0), x_dir=(-1, 0, 0), z_dir=(0, -1, 0))):
        with Locations(Location((-45.326413441, -55.435363088, 0), (0, 0, 270))):
            Circle(MIRROR2_COPY_1_SKETCH_R)
        with Locations(Location((-37.223586559, -65.214636912, 0), (0, 0, 270))):
            Circle(MIRROR2_COPY_1_SKETCH_R)
    extrude(amount=-MIRROR2_COPY_1_DEPTH, mode=Mode.SUBTRACT)

    # Mirror2 copy 2 sketch → Mirror2 copy 2 (cut)
    with BuildSketch(Plane(origin=(0, 0, 0), x_dir=(-1, 0, 0), z_dir=(0, 1, 0))):
        with Locations(Location((-45.326413441, 55.435363088, 0), (0, 0, 270))):
            Circle(MIRROR2_COPY_2_SKETCH_R)
        with Locations(Location((-37.223586559, 65.214636912, 0), (0, 0, 270))):
            Circle(MIRROR2_COPY_2_SKETCH_R)
    extrude(amount=-MIRROR2_COPY_2_DEPTH, mode=Mode.SUBTRACT)

    # Fillet3
    fillet3_edges = [part.edges().sort_by_distance(p)[0] for p in [
        (28.575, -8.4455, -47.625),
        (-28.575, -8.4455, -47.625),
        (-28.575, -8.4455, 47.625),
        (28.575, -8.4455, 47.625),
    ]]
    fillet(fillet3_edges, radius=FILLET3_R)

    # Fillet4
    fillet4_edges = [part.edges().sort_by_distance(p)[0] for p in [
        (45.326413441, -14.351, -52.133363088),
        (37.223586559, -14.351, -61.912636912),
        (-45.326413441, -14.351, -58.737363088),
        (-37.223586559, -14.351, -68.516636912),
        (-45.326413441, -14.351, 58.737363088),
        (-37.223586559, -14.351, 68.516636912),
        (37.223586559, -14.351, 61.912636912),
        (45.326413441, -14.351, 52.133363088),
    ]]
    fillet(fillet4_edges, radius=FILLET4_R)

    # Sketch27 → Boss-Extrude6 (add)
    with BuildSketch(Plane.XZ.offset(2.54)):
        with Locations((0, -71.755)):
            Rectangle(SKETCH27_W, SKETCH27_H)
        with Locations((0, 71.755)):
            Rectangle(SKETCH27_W, SKETCH27_H)
        with Locations((52.705, 0)):
            Rectangle(SKETCH27_W_2, SKETCH27_H_2)
        with Locations((-52.705, 0)):
            Rectangle(SKETCH27_W_2, SKETCH27_H_2)
    extrude(amount=BOSS_EXTRUDE6_DEPTH)

    # Sketch28 → Cut-Extrude16 (cut)
    with BuildSketch(Plane(origin=(0, 0, -73.025), x_dir=(-1, 0, 0), z_dir=(0, 0, -1))):
        with BuildLine():
            Line((-17.526, -36.322), (17.526, -36.322))
            Line((17.526, -36.322), (29.591, -36.322))
            Line((29.591, -36.322), (29.591, -33.782))
            ThreePointArc((29.591, -33.782), (28.847051224, -31.985948776), (27.051, -31.242))
            Line((27.051, -31.242), (19.431, -31.242))
            ThreePointArc((19.431, -31.242), (17.634948776, -30.498051224), (16.891, -28.702))
            Line((16.891, -28.702), (16.891, -21.3995))
            ThreePointArc((16.891, -21.3995), (16.147051224, -19.603448776), (14.351, -18.8595))
            Line((14.351, -18.8595), (-14.351, -18.8595))
            ThreePointArc((-14.351, -18.8595), (-16.147051224, -19.603448776), (-16.891, -21.3995))
            Line((-16.891, -21.3995), (-16.891, -28.702))
            ThreePointArc((-16.891, -28.702), (-17.634948776, -30.498051224), (-19.431, -31.242))
            Line((-19.431, -31.242), (-27.051, -31.242))
            ThreePointArc((-27.051, -31.242), (-28.847051224, -31.985948776), (-29.591, -33.782))
            Line((-29.591, -33.782), (-29.591, -36.322))
            Line((-29.591, -36.322), (-17.526, -36.322))
        make_face()
    extrude(amount=-CUT_EXTRUDE16_DEPTH, mode=Mode.SUBTRACT)

    # Sketch29 → Cut-Extrude17 (cut, through all)
    with BuildSketch(Plane.ZY.offset(53.975)):
        with BuildLine():
            Line((-54.146941182, -36.322), (-49.066941182, -36.322))
            Line((-49.066941182, -36.322), (-49.066941182, -33.782))
            ThreePointArc((-49.066941182, -33.782), (-49.810889958, -31.985948776), (-51.606941182, -31.242))
            Line((-51.606941182, -31.242), (-54.146941182, -31.242))
            Line((-54.146941182, -31.242), (-54.146941182, -36.322))
        make_face()
        with BuildLine():
            Line((49.066941182, -36.322), (49.066941182, -33.782))
            ThreePointArc((49.066941182, -33.782), (49.810889958, -31.985948776), (51.606941182, -31.242))
            Line((51.606941182, -31.242), (54.146941182, -31.242))
            Line((54.146941182, -31.242), (54.146941182, -36.322))
            Line((54.146941182, -36.322), (49.066941182, -36.322))
        make_face()
    extrude(amount=-CUT_EXTRUDE17_DEPTH, mode=Mode.SUBTRACT)

    # Sketch30 → Cut-Extrude18 (cut, through all)
    with BuildSketch(Plane.XY.offset(73.025)):
        with BuildLine():
            Line((-35.920791082, -36.322), (-30.840791082, -36.322))
            Line((-30.840791082, -36.322), (-30.840791082, -33.782))
            ThreePointArc((-30.840791082, -33.782), (-31.584739858, -31.985948776), (-33.380791082, -31.242))
            Line((-33.380791082, -31.242), (-35.920791082, -31.242))
            Line((-35.920791082, -31.242), (-35.920791082, -36.322))
        make_face()
        with BuildLine():
            Line((30.840791082, -36.322), (30.840791082, -33.782))
            ThreePointArc((30.840791082, -33.782), (31.584739858, -31.985948776), (33.380791082, -31.242))
            Line((33.380791082, -31.242), (35.920791082, -31.242))
            Line((35.920791082, -31.242), (35.920791082, -36.322))
            Line((35.920791082, -36.322), (30.840791082, -36.322))
        make_face()
    extrude(amount=-CUT_EXTRUDE18_DEPTH, mode=Mode.SUBTRACT)

    # Sketch31 → Cut-Extrude19 (cut, up to next)
    with BuildSketch(Plane.XY.offset(73.025), mode=Mode.PRIVATE) as cut_extrude19_sk1:
        with Locations((0, -29.972)):
            Rectangle(SKETCH31_W, SKETCH31_H)
    cut_extrude19_tool1 = extrude(cut_extrude19_sk1.sketch, amount=-CUT_EXTRUDE19_REACH, mode=Mode.PRIVATE) & part.part
    add(cut_extrude19_tool1.solids().sort_by_distance((0, -29.972, 73.025))[0], mode=Mode.SUBTRACT)

    # Fillet5
    fillet5_edges = [part.edges().sort_by_distance(p)[0] for p in [
        (-11.1125, -23.622, 71.755),
        (11.1125, -23.622, 71.755),
    ]]
    fillet(fillet5_edges, radius=FILLET5_R)


solid = part.part
